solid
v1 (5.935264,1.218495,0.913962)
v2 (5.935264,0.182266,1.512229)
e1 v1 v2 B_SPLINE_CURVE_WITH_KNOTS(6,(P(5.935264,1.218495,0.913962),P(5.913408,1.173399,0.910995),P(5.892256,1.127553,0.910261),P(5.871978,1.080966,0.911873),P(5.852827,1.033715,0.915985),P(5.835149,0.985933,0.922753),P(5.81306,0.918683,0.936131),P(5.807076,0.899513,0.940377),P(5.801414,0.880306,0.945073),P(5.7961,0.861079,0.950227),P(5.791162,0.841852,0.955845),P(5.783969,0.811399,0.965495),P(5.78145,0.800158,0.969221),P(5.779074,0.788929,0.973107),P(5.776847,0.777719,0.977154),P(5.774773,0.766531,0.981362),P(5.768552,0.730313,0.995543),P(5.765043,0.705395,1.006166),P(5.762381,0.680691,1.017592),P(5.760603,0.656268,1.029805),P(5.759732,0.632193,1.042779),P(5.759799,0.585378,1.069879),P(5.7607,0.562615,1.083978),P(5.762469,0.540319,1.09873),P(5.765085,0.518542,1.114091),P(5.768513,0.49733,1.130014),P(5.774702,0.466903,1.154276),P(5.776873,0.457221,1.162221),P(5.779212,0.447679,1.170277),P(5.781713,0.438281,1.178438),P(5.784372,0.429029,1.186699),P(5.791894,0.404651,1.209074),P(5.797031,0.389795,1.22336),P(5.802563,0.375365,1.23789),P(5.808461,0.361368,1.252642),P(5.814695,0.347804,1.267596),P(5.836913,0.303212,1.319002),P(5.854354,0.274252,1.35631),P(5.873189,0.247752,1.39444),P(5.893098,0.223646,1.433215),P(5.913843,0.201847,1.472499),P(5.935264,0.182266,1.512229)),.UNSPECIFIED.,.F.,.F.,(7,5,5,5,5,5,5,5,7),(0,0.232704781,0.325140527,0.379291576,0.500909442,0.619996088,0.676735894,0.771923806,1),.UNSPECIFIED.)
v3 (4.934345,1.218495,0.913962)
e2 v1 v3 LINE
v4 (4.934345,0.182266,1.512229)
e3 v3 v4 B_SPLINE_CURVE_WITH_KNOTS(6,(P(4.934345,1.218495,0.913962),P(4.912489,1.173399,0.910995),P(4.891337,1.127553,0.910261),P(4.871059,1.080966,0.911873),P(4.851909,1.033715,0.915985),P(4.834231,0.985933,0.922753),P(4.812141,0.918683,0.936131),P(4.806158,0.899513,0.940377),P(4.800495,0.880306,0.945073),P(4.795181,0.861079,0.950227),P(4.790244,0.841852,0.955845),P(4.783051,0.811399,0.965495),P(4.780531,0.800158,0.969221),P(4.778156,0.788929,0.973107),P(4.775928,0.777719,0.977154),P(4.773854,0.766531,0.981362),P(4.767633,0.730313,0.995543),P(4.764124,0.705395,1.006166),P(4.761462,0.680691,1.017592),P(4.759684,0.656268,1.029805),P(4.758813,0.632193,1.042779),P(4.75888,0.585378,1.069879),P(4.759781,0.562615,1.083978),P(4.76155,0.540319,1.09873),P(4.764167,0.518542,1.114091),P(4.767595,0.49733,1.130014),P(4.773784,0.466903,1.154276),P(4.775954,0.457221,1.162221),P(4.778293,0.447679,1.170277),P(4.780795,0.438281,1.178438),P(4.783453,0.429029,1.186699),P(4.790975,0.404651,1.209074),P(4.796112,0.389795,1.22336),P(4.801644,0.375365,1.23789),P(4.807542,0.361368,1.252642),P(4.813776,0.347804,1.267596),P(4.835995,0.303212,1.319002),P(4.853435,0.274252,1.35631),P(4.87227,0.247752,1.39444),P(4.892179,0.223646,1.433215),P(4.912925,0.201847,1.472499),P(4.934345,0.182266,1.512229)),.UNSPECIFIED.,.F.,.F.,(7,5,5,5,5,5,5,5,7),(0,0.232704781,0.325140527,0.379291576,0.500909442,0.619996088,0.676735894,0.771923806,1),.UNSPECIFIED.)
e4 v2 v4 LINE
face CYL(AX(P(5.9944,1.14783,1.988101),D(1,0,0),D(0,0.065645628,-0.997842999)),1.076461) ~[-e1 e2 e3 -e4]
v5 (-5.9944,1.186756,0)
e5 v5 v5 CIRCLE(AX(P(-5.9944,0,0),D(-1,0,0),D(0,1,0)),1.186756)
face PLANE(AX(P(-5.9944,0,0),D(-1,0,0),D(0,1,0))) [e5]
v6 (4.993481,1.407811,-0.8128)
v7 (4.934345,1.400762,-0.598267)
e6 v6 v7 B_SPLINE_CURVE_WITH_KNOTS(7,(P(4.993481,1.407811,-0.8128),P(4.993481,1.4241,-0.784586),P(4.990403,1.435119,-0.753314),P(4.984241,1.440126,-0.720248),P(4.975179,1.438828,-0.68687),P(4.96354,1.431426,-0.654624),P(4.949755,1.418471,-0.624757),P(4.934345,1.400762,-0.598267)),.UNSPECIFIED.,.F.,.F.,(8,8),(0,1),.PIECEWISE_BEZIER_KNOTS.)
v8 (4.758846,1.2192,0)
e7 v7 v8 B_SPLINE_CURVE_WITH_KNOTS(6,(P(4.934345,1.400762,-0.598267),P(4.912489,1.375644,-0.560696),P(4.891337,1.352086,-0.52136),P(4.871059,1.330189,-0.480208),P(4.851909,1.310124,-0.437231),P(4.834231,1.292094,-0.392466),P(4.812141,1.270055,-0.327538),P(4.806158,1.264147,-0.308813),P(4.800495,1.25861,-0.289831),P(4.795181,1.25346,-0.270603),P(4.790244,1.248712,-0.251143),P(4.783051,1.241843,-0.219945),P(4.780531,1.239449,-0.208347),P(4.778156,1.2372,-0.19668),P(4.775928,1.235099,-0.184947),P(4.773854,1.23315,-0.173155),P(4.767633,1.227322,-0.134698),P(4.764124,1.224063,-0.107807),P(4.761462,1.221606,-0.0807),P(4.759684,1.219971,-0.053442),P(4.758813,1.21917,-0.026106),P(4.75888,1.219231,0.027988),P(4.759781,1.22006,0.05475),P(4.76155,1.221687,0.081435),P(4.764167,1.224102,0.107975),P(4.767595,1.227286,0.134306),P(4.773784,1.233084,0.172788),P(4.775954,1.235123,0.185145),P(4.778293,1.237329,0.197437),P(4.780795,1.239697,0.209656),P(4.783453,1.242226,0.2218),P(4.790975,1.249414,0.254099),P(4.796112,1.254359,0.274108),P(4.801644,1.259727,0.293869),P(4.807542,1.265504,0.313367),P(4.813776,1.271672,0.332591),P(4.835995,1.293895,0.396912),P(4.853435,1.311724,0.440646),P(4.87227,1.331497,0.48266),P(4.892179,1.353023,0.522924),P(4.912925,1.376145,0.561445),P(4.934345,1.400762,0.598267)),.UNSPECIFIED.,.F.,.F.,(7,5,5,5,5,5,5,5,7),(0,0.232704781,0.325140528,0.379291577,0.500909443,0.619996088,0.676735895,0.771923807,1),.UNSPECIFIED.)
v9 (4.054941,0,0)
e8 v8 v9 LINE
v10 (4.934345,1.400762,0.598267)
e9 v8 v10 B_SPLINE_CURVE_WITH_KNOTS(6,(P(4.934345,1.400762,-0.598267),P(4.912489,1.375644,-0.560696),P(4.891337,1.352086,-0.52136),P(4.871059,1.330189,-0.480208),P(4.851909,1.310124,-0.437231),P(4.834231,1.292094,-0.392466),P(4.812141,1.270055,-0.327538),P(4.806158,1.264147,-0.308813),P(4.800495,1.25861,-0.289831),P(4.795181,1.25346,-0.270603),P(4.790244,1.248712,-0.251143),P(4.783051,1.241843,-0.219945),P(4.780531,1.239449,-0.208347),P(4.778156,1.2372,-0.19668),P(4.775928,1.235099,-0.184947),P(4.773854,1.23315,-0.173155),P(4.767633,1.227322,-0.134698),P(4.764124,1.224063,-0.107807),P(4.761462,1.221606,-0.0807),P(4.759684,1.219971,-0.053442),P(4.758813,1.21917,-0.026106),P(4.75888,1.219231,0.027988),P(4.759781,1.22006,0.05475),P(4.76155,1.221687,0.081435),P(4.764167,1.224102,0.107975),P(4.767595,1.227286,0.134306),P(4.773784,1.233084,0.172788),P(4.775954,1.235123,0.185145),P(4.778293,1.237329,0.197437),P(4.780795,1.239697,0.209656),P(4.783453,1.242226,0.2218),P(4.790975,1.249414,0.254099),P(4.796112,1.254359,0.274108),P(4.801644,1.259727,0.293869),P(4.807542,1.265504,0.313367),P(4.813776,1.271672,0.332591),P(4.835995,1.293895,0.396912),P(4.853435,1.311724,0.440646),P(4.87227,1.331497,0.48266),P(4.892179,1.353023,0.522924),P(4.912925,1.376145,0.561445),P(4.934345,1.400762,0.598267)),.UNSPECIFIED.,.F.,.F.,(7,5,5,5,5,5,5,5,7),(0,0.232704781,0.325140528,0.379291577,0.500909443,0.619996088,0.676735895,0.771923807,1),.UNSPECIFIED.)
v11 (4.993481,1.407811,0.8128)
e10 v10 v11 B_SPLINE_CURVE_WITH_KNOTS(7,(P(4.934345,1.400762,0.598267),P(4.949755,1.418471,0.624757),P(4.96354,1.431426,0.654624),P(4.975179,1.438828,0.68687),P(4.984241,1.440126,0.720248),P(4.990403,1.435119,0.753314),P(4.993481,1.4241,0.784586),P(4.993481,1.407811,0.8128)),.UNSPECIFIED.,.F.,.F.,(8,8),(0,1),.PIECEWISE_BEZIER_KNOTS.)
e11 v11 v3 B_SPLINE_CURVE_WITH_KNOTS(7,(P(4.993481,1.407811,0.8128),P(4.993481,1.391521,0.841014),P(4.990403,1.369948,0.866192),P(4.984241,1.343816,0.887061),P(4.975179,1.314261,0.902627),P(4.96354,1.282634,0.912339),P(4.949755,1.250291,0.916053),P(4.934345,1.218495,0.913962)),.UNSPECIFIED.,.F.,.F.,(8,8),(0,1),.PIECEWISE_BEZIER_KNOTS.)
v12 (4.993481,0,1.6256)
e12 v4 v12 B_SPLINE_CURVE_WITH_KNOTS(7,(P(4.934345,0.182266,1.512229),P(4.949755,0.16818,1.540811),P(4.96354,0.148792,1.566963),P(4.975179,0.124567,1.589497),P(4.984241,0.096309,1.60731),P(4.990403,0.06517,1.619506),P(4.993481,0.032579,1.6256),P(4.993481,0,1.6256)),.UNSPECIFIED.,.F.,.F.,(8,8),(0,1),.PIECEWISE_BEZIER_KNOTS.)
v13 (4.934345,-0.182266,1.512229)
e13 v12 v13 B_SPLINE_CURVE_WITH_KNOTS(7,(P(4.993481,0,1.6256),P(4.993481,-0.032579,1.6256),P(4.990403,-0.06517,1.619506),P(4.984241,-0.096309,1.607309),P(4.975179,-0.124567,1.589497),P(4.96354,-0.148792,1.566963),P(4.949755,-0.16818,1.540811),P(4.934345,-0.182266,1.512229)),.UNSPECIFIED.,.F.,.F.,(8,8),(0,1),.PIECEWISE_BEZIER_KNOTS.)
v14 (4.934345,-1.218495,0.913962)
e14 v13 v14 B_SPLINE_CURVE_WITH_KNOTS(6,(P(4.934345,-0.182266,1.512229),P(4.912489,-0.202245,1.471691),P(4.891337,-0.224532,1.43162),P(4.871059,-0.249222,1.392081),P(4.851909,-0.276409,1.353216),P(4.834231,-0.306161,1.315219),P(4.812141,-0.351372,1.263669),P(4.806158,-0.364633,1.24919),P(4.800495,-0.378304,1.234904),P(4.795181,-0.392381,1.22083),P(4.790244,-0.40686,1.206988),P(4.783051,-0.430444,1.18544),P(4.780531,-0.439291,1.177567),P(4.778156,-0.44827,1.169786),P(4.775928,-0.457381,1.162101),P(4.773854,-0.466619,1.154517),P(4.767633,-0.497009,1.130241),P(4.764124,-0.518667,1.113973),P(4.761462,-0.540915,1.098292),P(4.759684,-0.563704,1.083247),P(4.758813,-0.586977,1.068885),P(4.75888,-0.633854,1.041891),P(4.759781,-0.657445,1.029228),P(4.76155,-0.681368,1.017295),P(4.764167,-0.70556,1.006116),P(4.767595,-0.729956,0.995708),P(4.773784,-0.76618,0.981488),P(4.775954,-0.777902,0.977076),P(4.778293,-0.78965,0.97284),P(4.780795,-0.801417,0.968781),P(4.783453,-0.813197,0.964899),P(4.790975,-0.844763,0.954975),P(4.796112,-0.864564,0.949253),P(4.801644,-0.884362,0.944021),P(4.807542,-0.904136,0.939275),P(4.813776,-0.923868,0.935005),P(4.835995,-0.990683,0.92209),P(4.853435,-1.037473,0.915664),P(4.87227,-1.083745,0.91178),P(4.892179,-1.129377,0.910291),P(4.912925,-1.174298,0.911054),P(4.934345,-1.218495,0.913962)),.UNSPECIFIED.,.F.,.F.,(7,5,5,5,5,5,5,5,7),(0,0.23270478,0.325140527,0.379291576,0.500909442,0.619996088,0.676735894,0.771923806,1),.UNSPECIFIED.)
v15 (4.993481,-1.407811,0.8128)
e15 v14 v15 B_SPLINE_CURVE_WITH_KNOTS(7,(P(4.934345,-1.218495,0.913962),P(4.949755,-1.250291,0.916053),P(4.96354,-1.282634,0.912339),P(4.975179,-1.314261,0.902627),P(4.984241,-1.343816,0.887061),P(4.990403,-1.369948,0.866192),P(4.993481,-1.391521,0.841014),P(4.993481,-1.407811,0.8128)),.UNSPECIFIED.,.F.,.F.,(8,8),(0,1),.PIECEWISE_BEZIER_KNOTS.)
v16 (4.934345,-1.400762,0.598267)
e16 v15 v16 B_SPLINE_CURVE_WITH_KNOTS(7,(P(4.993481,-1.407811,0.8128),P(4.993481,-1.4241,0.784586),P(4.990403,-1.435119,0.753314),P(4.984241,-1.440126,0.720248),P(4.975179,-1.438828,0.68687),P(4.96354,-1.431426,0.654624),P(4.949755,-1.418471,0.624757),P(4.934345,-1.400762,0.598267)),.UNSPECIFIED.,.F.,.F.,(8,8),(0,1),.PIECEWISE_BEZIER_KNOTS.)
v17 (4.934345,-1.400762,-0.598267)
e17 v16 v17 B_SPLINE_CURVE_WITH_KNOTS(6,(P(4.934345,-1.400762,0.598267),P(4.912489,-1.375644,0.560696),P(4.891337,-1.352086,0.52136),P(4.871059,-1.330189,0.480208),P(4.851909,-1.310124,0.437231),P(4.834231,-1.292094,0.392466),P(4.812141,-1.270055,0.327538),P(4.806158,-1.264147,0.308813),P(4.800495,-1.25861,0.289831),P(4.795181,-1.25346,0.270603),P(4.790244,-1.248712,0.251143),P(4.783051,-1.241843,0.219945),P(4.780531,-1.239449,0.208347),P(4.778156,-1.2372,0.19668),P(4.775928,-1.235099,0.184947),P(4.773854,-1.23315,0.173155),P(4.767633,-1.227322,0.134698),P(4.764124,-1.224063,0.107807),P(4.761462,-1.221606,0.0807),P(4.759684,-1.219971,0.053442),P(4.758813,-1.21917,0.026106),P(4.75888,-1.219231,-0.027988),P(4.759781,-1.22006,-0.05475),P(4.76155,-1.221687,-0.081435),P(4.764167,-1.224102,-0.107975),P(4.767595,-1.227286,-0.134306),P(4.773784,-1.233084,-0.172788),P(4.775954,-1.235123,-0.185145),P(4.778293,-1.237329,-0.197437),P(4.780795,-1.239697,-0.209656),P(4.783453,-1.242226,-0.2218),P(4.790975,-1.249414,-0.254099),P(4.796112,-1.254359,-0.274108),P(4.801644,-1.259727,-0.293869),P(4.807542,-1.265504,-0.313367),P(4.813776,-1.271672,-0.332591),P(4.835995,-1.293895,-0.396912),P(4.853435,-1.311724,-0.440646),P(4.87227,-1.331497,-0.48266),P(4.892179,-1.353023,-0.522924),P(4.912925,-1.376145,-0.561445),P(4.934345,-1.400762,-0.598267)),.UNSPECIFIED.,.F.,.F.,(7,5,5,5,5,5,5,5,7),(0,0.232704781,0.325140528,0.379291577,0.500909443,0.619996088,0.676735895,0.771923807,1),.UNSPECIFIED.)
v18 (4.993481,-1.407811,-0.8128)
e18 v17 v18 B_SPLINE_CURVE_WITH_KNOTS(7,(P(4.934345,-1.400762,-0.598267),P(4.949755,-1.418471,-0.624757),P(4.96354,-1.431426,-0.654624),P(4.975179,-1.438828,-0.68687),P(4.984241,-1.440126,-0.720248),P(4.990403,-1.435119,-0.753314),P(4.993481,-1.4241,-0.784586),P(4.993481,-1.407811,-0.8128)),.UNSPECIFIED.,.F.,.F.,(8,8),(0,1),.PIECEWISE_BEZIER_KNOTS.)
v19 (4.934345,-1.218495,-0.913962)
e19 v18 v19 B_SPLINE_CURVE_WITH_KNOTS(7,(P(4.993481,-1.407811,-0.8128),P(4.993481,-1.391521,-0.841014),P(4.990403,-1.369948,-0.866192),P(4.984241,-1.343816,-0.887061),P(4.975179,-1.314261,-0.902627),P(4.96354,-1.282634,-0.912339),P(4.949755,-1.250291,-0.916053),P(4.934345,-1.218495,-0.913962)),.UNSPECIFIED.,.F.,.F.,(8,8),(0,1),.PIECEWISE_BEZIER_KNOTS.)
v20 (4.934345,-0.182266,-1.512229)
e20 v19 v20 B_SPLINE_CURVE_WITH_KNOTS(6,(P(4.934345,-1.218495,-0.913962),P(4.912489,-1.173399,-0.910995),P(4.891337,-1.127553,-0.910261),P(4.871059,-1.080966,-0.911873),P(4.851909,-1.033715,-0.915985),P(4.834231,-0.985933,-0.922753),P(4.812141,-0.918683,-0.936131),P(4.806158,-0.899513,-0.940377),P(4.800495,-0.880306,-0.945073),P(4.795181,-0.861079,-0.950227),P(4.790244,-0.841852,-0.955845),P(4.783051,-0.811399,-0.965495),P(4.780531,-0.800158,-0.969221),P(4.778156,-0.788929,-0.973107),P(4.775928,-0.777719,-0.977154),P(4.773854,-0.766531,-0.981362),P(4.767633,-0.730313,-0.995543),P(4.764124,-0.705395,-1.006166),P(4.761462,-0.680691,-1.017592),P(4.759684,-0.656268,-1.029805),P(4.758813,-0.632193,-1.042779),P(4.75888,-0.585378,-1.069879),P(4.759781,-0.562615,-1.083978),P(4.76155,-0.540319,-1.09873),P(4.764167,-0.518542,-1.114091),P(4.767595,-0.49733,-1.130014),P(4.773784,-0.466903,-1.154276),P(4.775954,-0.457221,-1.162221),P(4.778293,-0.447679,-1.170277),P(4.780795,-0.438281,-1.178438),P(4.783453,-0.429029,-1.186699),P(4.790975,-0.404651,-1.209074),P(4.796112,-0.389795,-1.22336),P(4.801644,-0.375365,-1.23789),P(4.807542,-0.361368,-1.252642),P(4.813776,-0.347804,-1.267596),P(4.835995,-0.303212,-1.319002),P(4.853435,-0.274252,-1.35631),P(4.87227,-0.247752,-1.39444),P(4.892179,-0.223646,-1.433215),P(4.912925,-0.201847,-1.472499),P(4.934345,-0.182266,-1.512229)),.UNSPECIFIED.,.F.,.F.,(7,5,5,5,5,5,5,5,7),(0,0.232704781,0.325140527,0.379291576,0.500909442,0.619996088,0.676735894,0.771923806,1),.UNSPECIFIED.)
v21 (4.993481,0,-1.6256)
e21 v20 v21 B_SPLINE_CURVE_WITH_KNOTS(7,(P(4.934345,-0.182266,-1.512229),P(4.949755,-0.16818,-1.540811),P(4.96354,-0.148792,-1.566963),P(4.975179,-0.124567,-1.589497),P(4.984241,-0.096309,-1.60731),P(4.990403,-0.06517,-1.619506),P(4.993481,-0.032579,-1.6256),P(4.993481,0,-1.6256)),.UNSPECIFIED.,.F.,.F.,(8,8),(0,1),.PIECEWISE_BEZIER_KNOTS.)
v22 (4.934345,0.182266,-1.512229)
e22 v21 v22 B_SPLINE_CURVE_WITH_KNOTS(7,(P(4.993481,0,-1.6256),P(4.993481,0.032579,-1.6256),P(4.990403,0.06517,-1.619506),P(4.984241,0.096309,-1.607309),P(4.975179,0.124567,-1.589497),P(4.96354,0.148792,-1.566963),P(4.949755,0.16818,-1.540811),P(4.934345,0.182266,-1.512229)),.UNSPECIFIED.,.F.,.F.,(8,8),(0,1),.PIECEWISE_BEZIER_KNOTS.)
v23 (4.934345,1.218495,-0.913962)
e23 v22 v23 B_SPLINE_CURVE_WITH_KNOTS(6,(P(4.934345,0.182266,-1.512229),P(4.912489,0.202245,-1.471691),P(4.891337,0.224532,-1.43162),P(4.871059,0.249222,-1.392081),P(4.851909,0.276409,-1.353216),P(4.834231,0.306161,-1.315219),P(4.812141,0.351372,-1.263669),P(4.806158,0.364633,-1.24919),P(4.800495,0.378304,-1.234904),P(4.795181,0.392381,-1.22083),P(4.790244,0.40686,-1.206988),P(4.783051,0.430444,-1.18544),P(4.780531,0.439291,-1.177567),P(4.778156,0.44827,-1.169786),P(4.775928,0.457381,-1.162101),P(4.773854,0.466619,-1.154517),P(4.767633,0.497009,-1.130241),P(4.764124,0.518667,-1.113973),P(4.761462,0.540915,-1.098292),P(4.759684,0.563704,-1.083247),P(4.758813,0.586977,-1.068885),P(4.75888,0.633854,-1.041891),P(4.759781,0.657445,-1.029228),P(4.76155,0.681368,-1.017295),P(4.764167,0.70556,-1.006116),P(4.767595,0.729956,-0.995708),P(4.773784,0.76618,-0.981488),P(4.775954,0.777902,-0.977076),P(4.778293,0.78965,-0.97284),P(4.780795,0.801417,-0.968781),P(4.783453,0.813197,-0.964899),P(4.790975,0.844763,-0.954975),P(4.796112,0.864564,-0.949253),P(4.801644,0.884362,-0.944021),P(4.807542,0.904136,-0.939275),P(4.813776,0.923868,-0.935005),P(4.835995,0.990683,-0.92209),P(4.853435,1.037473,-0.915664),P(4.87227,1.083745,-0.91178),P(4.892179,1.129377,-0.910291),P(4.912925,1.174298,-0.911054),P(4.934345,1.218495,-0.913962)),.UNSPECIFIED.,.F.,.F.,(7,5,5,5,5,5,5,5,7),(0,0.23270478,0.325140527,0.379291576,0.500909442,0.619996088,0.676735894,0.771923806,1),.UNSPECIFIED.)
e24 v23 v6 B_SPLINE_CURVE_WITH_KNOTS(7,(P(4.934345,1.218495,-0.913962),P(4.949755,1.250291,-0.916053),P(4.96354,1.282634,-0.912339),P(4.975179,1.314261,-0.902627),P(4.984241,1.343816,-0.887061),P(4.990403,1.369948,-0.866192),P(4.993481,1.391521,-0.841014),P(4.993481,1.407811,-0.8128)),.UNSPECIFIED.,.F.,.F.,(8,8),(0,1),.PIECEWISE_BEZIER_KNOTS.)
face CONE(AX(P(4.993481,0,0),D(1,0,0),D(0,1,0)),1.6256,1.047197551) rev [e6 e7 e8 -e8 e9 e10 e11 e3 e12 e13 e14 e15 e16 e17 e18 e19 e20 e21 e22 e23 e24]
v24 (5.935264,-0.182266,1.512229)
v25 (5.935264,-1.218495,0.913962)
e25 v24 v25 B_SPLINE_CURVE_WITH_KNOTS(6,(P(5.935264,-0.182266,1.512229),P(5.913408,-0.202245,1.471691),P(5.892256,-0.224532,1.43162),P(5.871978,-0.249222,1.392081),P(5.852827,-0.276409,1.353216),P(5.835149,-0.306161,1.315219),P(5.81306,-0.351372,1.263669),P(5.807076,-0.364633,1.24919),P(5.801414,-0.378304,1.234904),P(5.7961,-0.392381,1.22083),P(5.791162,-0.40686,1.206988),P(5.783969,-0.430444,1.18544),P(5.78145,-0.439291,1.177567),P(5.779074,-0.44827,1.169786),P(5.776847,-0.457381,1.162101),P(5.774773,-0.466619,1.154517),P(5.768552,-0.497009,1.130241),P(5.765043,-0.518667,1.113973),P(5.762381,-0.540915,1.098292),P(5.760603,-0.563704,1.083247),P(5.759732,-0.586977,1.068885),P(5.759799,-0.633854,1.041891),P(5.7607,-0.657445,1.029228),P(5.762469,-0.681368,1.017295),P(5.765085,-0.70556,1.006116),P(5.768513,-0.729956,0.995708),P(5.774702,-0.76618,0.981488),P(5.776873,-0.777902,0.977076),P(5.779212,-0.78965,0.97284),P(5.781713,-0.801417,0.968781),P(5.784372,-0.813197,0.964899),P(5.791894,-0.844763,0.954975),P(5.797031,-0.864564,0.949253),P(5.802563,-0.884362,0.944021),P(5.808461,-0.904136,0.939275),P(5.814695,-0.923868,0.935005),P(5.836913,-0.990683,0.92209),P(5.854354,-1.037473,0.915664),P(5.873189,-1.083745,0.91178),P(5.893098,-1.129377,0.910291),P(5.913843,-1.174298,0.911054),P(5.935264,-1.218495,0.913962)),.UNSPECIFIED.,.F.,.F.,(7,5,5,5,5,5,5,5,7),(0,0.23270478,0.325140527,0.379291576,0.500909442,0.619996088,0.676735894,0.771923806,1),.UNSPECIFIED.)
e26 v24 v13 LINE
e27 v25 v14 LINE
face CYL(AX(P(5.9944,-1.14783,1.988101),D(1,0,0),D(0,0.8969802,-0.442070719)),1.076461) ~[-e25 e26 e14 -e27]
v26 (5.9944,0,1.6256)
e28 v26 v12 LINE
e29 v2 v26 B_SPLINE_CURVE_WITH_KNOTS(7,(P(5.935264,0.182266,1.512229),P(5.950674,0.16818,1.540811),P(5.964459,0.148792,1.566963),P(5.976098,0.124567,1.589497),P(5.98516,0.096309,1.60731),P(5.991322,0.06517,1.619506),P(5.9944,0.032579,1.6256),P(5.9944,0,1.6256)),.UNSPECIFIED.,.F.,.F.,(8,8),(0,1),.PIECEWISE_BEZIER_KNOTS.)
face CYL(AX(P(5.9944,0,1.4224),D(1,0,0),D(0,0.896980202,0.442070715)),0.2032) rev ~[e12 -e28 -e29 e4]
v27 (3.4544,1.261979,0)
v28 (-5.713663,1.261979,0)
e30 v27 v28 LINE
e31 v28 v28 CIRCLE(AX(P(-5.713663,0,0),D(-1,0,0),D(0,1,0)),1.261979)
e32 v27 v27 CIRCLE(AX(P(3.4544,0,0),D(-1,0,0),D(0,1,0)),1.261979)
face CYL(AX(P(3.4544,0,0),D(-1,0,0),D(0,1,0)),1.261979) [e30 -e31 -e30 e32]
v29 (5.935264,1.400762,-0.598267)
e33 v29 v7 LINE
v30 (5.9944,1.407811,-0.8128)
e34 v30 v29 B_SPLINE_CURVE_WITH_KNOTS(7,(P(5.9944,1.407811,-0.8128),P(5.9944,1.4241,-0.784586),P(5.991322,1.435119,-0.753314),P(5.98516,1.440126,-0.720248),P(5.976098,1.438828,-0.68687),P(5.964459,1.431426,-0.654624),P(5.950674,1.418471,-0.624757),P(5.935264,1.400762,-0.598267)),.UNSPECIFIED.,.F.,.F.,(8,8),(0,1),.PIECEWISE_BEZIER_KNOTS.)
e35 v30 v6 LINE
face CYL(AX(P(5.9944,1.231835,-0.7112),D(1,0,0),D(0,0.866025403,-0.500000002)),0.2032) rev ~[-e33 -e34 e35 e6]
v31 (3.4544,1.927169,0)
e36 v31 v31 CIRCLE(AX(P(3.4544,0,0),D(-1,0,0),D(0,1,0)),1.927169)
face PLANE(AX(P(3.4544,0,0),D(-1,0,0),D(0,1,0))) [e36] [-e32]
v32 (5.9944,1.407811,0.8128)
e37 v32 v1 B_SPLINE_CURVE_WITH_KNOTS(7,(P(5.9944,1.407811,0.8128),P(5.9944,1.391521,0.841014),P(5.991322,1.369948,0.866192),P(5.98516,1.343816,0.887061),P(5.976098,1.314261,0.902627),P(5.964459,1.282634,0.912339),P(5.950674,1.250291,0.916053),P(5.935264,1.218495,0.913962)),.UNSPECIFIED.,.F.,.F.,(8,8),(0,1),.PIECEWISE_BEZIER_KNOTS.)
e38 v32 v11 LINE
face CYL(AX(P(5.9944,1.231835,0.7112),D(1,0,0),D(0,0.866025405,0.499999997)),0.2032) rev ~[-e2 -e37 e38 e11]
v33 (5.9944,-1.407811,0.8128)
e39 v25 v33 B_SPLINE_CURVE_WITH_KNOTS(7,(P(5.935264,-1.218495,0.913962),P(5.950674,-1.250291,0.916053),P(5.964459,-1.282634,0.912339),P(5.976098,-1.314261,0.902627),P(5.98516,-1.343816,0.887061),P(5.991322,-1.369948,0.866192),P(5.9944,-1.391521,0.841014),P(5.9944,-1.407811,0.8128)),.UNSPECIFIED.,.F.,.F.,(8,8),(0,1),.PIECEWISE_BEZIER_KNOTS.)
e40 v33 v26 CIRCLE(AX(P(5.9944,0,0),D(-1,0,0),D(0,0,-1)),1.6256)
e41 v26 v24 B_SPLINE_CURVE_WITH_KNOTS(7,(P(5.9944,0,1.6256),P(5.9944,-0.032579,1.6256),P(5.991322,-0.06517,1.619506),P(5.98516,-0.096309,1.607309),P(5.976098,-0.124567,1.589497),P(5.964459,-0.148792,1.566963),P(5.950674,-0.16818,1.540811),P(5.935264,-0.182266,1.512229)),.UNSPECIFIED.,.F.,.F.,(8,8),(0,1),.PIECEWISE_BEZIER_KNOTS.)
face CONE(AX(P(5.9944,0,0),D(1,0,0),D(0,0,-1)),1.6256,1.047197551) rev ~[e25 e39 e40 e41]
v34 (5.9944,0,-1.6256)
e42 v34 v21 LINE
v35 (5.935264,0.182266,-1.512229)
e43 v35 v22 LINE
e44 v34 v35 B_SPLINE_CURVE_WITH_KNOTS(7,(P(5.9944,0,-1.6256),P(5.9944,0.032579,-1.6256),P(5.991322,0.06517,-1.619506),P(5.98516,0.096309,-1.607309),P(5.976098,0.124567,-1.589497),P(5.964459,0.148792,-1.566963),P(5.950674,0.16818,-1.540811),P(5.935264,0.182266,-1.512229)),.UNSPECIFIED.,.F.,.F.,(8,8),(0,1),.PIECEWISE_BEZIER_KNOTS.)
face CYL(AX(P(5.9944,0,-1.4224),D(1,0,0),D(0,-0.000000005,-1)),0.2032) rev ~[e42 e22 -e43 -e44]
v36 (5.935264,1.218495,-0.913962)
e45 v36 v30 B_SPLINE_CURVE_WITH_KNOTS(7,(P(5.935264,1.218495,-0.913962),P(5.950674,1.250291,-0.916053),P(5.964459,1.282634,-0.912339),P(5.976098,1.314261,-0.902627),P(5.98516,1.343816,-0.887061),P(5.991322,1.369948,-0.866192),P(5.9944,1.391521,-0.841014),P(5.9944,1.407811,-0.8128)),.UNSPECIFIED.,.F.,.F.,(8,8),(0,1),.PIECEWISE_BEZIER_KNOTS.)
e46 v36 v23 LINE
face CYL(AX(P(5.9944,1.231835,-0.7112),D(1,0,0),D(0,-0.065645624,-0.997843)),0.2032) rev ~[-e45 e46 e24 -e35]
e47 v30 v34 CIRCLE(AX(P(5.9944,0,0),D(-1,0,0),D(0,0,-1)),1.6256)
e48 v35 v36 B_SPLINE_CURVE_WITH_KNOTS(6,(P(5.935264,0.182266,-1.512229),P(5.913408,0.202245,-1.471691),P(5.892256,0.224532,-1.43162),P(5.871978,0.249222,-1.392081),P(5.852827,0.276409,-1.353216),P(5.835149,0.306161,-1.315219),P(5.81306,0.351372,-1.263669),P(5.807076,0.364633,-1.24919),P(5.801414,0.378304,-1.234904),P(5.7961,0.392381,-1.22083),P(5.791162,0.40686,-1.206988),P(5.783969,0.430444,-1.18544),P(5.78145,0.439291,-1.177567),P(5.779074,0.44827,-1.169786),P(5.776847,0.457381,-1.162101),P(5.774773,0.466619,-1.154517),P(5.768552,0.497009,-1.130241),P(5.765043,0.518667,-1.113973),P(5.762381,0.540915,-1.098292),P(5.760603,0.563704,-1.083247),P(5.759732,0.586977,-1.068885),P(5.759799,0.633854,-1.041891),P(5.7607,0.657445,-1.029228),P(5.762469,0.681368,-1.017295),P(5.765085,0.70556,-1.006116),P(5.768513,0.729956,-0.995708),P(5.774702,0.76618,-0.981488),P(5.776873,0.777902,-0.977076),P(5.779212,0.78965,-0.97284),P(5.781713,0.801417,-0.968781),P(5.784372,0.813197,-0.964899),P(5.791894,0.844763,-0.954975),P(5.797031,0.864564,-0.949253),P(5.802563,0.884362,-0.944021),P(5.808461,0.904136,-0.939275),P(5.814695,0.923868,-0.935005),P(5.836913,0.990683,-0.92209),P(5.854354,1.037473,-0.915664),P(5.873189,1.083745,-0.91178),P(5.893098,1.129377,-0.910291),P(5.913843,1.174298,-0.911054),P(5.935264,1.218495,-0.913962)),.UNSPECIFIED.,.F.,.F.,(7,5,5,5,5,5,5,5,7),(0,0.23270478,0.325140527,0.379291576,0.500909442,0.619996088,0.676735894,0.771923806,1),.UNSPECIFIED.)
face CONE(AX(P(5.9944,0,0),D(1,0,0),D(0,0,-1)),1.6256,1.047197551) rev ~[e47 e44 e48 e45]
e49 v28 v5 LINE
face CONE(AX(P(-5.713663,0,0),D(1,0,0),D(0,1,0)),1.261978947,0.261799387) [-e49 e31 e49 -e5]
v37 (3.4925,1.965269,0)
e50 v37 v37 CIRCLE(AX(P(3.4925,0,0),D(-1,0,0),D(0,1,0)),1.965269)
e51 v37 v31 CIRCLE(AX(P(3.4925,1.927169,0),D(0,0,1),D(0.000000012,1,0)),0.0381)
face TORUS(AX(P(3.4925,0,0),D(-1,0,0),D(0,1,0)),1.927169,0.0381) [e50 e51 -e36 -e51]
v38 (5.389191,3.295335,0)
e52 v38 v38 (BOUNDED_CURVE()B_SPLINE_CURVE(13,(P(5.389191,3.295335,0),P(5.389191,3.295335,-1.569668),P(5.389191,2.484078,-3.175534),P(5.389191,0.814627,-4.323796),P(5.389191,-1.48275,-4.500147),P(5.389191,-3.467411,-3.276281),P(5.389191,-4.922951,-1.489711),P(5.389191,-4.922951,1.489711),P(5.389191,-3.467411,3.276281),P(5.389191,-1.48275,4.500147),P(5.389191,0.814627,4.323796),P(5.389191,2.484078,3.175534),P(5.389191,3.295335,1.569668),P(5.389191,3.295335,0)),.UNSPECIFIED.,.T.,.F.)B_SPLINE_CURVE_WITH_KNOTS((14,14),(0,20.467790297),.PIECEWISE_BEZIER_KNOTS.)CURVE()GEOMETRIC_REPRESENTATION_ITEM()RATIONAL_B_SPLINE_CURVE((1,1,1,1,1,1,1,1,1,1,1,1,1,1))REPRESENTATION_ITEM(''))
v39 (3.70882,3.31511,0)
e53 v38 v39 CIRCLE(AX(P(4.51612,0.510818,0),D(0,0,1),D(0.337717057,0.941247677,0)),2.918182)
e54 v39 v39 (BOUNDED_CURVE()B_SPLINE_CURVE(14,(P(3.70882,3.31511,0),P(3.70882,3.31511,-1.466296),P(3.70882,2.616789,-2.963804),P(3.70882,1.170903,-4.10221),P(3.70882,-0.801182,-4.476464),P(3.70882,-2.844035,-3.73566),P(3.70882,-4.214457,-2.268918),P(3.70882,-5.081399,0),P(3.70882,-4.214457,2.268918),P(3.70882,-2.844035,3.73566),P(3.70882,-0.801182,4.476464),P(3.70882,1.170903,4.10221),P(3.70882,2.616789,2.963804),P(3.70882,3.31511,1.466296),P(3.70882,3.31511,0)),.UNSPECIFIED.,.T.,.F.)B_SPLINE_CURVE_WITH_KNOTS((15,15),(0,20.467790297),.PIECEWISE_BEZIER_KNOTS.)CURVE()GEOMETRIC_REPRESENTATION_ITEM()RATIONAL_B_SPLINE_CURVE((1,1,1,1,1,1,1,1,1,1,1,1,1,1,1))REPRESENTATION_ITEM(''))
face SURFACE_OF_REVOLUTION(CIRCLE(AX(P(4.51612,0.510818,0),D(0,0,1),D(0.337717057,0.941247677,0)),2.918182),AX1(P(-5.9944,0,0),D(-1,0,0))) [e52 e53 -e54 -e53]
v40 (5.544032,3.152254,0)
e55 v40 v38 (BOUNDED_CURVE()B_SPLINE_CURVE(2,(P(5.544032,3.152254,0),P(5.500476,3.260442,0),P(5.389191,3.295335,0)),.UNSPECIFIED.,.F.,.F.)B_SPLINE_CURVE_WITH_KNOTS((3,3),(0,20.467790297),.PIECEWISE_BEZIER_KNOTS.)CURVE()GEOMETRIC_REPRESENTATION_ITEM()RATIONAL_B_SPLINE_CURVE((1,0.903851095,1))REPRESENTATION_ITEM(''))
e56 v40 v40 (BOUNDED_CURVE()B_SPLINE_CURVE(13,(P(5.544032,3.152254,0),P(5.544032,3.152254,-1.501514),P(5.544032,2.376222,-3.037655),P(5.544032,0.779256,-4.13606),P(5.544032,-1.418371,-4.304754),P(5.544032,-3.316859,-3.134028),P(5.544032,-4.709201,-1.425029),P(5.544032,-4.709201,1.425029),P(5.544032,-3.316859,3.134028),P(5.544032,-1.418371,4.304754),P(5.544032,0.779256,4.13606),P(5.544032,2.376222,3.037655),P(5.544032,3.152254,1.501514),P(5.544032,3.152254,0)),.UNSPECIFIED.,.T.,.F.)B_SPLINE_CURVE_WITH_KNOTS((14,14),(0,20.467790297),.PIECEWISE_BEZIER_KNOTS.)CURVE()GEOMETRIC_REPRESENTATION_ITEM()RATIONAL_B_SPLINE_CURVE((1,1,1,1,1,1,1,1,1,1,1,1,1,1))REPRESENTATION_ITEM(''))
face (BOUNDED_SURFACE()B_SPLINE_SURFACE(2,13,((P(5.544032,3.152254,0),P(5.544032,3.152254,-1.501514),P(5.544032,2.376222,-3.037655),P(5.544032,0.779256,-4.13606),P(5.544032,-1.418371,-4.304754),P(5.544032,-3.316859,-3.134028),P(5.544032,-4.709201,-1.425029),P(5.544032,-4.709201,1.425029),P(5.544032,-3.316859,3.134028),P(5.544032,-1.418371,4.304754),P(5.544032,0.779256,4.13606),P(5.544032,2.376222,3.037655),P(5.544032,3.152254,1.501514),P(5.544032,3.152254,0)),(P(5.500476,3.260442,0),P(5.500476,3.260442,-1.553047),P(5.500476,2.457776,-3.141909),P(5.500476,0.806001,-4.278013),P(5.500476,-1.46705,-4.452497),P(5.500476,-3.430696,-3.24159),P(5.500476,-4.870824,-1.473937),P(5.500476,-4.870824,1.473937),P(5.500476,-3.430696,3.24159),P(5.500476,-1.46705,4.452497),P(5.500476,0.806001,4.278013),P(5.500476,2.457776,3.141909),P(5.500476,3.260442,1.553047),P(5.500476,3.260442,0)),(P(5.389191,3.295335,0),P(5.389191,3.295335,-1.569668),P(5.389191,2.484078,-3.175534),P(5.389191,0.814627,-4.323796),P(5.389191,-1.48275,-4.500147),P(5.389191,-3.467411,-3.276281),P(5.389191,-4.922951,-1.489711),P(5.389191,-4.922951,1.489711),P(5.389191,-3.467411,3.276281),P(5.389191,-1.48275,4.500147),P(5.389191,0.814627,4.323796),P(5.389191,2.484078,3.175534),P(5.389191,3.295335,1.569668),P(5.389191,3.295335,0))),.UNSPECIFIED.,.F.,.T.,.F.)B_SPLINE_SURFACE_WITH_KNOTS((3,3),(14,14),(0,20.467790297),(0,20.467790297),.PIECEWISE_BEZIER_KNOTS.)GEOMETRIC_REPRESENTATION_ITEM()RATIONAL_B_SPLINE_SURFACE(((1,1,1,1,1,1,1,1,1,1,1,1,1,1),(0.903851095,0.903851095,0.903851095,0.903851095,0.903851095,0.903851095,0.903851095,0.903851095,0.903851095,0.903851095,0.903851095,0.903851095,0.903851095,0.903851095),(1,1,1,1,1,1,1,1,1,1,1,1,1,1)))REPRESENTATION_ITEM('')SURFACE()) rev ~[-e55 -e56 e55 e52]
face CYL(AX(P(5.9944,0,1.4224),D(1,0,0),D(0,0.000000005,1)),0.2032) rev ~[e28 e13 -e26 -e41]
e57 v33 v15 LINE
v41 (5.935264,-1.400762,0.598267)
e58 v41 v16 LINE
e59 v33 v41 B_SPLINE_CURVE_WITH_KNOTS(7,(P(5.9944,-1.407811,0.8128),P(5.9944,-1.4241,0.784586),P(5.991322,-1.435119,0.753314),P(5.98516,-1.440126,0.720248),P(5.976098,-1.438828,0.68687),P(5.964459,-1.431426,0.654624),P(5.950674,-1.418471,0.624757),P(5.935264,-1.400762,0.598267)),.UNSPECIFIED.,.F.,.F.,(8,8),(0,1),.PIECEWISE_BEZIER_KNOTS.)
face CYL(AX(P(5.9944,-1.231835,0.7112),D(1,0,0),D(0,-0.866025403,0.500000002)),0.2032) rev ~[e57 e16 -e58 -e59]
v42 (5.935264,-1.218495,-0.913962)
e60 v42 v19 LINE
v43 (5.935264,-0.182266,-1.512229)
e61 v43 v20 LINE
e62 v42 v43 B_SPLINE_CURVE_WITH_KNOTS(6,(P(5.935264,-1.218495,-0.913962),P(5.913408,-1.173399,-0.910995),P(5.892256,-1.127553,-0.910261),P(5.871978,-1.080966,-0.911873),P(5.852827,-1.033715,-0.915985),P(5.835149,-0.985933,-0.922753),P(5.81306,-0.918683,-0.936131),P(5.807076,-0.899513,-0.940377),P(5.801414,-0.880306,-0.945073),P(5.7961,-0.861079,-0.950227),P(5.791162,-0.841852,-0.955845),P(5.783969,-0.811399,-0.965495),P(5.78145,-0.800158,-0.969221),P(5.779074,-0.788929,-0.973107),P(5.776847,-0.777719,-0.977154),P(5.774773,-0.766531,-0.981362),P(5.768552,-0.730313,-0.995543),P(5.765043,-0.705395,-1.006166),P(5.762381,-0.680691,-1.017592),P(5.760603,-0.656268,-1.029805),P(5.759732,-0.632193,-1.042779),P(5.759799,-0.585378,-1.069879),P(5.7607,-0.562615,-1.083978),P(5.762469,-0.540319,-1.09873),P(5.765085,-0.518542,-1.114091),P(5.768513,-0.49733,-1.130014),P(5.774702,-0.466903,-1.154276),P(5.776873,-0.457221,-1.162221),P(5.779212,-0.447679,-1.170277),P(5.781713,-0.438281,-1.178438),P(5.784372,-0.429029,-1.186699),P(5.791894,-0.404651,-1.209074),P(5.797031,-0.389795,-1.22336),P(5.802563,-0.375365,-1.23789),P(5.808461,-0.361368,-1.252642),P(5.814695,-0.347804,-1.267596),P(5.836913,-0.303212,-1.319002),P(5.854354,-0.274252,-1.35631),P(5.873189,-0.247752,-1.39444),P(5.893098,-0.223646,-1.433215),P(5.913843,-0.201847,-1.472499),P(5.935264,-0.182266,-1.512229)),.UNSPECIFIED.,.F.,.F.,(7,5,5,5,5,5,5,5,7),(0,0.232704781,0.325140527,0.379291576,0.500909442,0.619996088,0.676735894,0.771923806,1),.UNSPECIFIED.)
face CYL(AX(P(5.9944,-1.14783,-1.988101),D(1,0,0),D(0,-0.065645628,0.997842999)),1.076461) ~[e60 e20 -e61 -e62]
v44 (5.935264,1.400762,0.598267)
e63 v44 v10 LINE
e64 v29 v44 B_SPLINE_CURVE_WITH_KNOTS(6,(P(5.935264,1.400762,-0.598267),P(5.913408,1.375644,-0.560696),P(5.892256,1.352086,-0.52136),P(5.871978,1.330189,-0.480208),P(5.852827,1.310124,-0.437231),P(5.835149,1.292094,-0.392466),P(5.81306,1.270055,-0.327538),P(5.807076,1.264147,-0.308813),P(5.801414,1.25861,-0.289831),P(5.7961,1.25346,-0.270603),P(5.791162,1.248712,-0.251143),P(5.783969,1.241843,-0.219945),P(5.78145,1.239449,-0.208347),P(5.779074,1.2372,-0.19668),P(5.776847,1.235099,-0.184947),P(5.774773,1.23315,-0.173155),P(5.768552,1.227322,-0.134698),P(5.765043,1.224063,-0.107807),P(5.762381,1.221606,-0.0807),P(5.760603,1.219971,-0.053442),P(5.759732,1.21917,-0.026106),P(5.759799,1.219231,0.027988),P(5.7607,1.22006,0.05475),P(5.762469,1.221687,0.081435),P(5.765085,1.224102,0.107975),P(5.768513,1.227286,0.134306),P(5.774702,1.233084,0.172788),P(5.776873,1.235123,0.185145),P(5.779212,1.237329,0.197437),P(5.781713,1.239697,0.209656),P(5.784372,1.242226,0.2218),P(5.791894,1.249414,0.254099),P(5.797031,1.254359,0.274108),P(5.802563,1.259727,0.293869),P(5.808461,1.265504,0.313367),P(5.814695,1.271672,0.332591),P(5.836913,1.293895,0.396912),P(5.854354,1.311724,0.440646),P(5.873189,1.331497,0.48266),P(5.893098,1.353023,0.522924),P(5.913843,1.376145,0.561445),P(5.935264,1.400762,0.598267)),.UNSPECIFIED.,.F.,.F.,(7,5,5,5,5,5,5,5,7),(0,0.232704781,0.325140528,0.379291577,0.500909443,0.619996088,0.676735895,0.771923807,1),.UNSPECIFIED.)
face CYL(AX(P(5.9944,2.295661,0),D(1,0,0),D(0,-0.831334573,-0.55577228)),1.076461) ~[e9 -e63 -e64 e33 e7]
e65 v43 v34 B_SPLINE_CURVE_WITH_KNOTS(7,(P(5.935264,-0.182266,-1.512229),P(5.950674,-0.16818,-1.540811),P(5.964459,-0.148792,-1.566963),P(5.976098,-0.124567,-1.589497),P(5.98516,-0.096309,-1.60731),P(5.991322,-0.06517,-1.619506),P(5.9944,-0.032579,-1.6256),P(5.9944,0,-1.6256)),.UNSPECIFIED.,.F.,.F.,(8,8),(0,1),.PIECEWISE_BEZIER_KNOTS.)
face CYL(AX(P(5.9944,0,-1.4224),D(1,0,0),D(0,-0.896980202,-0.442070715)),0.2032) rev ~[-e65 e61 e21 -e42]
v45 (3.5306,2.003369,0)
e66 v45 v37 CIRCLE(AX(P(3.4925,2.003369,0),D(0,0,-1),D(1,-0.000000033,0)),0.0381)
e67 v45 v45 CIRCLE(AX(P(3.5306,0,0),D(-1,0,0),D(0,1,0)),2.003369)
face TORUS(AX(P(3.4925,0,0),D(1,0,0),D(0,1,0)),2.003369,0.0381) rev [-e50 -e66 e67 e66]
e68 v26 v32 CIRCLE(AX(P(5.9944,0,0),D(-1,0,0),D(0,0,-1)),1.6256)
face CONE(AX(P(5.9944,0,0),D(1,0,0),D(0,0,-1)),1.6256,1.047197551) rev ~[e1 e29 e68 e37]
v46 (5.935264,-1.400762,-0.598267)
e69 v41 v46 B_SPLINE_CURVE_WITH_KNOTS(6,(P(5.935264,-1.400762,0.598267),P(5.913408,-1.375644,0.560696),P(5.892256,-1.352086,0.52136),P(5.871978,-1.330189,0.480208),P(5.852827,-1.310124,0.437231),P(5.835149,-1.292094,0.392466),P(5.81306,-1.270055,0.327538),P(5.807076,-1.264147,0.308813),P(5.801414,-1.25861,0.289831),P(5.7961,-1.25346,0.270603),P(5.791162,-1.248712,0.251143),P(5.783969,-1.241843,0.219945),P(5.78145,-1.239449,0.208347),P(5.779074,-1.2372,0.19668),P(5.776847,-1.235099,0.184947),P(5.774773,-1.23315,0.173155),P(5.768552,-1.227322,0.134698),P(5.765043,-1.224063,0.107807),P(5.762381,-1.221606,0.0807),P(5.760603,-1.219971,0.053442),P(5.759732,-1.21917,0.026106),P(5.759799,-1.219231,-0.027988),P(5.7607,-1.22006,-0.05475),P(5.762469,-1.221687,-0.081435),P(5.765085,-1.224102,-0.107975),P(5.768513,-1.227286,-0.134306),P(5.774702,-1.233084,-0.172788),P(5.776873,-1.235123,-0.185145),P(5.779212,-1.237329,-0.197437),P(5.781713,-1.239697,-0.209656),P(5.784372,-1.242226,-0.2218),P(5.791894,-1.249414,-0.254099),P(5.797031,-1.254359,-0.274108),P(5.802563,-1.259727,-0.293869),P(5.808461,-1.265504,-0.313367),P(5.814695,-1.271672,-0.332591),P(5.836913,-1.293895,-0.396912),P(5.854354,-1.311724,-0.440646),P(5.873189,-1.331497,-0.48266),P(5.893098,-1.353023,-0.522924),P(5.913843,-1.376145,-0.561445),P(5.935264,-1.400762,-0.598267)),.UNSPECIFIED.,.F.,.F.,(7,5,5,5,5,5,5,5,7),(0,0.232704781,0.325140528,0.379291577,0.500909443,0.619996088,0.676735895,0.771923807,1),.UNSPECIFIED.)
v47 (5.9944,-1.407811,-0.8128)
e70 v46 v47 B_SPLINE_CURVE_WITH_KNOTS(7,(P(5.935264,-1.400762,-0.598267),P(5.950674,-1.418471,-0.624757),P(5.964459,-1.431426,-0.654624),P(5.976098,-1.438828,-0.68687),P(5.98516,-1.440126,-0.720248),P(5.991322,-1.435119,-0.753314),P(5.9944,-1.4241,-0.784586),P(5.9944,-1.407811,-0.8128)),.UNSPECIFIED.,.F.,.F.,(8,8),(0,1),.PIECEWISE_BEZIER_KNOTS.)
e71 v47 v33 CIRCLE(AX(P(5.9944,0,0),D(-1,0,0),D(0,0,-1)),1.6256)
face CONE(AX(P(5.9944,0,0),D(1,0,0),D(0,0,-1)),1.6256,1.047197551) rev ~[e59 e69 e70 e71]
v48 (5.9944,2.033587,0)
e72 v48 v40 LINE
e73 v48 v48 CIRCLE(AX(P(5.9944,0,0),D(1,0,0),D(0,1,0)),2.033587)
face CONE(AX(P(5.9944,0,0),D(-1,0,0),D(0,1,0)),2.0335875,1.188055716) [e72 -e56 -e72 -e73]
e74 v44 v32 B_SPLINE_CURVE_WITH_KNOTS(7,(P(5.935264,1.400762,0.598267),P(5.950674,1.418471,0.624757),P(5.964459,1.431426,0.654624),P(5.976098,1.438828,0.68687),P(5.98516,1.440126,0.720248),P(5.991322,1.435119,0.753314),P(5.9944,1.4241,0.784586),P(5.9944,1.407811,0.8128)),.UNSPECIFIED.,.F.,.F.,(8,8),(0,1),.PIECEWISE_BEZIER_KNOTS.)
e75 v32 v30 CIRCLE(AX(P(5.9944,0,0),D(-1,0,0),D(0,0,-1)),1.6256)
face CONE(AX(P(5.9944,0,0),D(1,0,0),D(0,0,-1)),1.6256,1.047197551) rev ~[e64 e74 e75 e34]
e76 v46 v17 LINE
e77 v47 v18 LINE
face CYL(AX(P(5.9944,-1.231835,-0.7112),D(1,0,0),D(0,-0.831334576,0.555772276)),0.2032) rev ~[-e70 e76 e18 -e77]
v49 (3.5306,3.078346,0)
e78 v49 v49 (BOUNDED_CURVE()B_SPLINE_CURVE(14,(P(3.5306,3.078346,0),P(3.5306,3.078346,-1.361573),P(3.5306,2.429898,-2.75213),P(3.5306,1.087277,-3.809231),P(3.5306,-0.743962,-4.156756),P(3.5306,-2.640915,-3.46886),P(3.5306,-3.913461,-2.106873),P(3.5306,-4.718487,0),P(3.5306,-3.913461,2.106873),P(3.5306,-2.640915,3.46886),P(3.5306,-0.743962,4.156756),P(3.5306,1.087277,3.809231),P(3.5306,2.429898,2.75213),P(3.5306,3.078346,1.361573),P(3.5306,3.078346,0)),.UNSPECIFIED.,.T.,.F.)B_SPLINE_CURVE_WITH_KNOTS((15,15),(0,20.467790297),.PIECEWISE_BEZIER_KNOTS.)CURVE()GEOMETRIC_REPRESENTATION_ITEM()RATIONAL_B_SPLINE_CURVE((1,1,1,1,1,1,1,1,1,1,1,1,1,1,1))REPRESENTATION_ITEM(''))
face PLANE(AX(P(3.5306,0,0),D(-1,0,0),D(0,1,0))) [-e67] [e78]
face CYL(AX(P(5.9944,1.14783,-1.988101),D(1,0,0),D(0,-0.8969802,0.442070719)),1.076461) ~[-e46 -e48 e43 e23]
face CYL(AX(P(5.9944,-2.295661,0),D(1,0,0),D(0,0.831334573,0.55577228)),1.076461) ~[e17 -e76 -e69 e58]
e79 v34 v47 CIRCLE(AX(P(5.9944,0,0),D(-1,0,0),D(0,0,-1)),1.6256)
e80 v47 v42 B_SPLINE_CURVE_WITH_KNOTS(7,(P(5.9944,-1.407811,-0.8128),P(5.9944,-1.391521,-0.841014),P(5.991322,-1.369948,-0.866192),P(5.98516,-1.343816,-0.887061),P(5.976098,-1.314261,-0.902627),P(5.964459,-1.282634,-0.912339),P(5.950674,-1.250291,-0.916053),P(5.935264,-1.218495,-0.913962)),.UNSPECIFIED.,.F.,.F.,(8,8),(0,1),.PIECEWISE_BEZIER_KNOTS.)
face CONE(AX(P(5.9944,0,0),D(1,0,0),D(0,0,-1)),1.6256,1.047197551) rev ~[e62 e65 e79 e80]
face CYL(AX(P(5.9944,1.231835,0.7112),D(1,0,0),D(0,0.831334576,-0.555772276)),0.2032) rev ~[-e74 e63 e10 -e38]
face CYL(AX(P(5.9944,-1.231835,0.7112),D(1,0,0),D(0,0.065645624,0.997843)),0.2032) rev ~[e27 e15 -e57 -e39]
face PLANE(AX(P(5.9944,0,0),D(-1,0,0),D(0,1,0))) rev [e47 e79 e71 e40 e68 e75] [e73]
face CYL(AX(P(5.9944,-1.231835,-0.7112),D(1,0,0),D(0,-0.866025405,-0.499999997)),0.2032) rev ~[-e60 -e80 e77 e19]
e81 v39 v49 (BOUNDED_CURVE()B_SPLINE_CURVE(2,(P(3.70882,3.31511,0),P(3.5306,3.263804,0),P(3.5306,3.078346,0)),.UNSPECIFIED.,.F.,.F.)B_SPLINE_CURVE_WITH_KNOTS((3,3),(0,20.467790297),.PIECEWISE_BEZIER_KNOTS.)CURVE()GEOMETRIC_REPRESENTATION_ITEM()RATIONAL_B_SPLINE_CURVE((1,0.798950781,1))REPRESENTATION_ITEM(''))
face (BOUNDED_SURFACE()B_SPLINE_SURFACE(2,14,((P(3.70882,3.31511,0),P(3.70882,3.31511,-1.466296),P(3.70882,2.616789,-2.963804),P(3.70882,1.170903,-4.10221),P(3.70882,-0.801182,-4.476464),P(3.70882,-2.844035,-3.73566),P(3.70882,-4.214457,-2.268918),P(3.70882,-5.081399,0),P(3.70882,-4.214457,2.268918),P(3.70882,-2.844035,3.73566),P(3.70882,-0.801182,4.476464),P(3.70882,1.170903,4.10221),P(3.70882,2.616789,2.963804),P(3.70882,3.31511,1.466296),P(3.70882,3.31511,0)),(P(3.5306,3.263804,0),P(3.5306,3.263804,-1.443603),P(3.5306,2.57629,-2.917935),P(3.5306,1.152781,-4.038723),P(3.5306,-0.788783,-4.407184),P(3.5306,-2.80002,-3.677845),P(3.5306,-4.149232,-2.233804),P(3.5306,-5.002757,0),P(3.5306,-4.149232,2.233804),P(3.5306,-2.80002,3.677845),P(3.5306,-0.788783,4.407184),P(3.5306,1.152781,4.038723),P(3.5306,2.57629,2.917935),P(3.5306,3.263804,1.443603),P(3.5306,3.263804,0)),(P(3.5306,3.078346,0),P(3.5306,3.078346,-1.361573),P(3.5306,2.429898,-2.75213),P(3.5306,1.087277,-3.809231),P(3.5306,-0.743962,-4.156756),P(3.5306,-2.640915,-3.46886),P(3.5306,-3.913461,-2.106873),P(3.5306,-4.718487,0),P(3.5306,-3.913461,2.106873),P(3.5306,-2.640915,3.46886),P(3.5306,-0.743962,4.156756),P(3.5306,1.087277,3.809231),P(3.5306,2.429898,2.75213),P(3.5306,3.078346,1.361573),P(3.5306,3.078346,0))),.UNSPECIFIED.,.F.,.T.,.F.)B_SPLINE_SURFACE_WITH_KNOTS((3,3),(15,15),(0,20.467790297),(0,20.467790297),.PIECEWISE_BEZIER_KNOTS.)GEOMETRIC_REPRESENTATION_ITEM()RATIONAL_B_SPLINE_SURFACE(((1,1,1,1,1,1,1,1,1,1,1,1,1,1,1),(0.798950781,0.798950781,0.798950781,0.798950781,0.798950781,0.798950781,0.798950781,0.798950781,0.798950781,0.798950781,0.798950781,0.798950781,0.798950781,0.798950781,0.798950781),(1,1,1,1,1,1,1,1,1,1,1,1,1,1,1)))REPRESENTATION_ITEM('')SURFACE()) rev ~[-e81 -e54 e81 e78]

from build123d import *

# Parameters (mm, degrees)
BOSS_EXTRUDE1_REACH = 14.932
SKETCH3_R           = 2.0335875
FILLET1_R           = 0.24638
CHAMFER1_SIZE       = 0.280736842
CHAMFER1_SIZE2      = 0.07522321


with BuildPart() as part:
    # Sketch2 → Revolve1 (revolve)
    with BuildSketch(Plane.XY):
        with BuildLine():
            Line((-5.9944, 0), (5.9944, 0))
            Line((5.9944, 0), (5.9944, 2.0335875))
            Line((5.9944, 2.0335875), (5.50164, 3.25755))
            ThreePointArc((5.50164, 3.25755), (4.51612, 3.429), (3.5306, 3.25755))
            Line((3.5306, 3.25755), (3.5306, 2.003369298))
            ThreePointArc((3.5306, 2.003369298), (3.519440768, 1.97642853), (3.4925, 1.965269298))
            ThreePointArc((3.4925, 1.965269298), (3.465559232, 1.954110067), (3.4544, 1.927169298))
            Line((3.4544, 1.927169298), (3.4544, 1.261978947))
            Line((3.4544, 1.261978947), (-5.9944, 1.261978947))
            Line((-5.9944, 1.261978947), (-5.9944, 0))
        make_face()
    revolve(axis=Axis((-5.9944, 0, 0), (-1, 0, 0)))

    # Sketch12 → Cut-Revolve3 (revolve, cut)
    with BuildSketch(Plane.XY):
        Polygon((5.9944, 1.6256), (4.99348125, 1.6256), (4.054940652, 0), (5.9944, 0), align=None)
    revolve(axis=Axis((-5.9944, 0, 0), (1, 0, 0)), mode=Mode.SUBTRACT)

    # Boss-Extrude1: up to this cone (the profile starts inside it)
    boss_extrude1_end = Plane(origin=(5.9944, 0, 0), z_dir=(1, 0, 0)).offset(-1.939458348) * Cone(1.732e-06, 35.906628234, 20.730700477, align=(Align.CENTER, Align.CENTER, Align.MIN), mode=Mode.PRIVATE)
    # Sketch3 → Boss-Extrude1 (add, up to the surface)
    with BuildSketch(Plane(origin=(5.9944, 0, 0), x_dir=(0, 0, -1), z_dir=(1, 0, 0)), mode=Mode.PRIVATE) as boss_extrude1_sk1:
        Circle(SKETCH3_R)
        with BuildLine():
            ThreePointArc((1.51222877, -0.182266377), (1.594944844, -0.107324354), (1.6256, 0))
            ThreePointArc((1.6256, 0), (1.594944844, 0.107324354), (1.51222877, 0.182266377))
            ThreePointArc((1.51222877, 0.182266377), (1.055858172, 0.6096), (0.913961698, 1.218495343))
            ThreePointArc((0.913961698, 1.218495343), (0.890418039, 1.327600575), (0.8128, 1.407810896))
            ThreePointArc((0.8128, 1.407810896), (0.704526805, 1.434924929), (0.598267073, 1.40076172))
            ThreePointArc((0.598267073, 1.40076172), (0, 1.2192), (-0.598267073, 1.40076172))
            ThreePointArc((-0.598267073, 1.40076172), (-0.704526805, 1.434924929), (-0.8128, 1.407810896))
            ThreePointArc((-0.8128, 1.407810896), (-0.890418039, 1.327600575), (-0.913961698, 1.218495343))
            ThreePointArc((-0.913961698, 1.218495343), (-1.055858172, 0.6096), (-1.51222877, 0.182266377))
            ThreePointArc((-1.51222877, 0.182266377), (-1.594944844, 0.107324354), (-1.6256, 0))
            ThreePointArc((-1.6256, 0), (-1.594944844, -0.107324354), (-1.51222877, -0.182266377))
            ThreePointArc((-1.51222877, -0.182266377), (-1.055858172, -0.6096), (-0.913961698, -1.218495343))
            ThreePointArc((-0.913961698, -1.218495343), (-0.890418039, -1.327600575), (-0.8128, -1.407810896))
            ThreePointArc((-0.8128, -1.407810896), (-0.704526805, -1.434924929), (-0.598267073, -1.40076172))
            ThreePointArc((-0.598267073, -1.40076172), (0, -1.2192), (0.598267073, -1.40076172))
            ThreePointArc((0.598267073, -1.40076172), (0.704526805, -1.434924929), (0.8128, -1.407810896))
            ThreePointArc((0.8128, -1.407810896), (0.890418039, -1.327600575), (0.913961698, -1.218495343))
            ThreePointArc((0.913961698, -1.218495343), (1.055858172, -0.6096), (1.51222877, -0.182266377))
        make_face(mode=Mode.SUBTRACT)
    boss_extrude1_tool1 = extrude(boss_extrude1_sk1.sketch, amount=-BOSS_EXTRUDE1_REACH, mode=Mode.PRIVATE) & boss_extrude1_end
    add(boss_extrude1_tool1.solids().sort_by_distance((5.9944, 0, 1.976069))[0])

    # Cut-Extrude2 cone 1 section (through the dimple's axis) → Cut-Extrude2 (revolve, cut)
    with BuildSketch(Plane(origin=(5.9944, 0, 0), x_dir=(0, 0, -1), z_dir=(0, 1, 0))):
        Polygon((0, 0), (1.6256, 0), (0, 0.938540598), align=None)
    revolve(axis=Axis((5.9944, 0, 0), (-1, 0, 0)), mode=Mode.SUBTRACT)

    # Fillet1
    fillet1_edges = [part.edges().sort_by_distance(p)[0] for p in [
        (3.5306, -3.25755, 0),
        (5.50164, -3.25755, 0),
    ]]
    fillet(fillet1_edges, radius=FILLET1_R)

    # Chamfer1
    chamfer1_edges = [part.edges().sort_by_distance(p)[0] for p in [
        (-5.9944, -1.261978947, 0),
    ]]
    chamfer1_side = [part.faces().sort_by_distance(p)[0] for p in [
        (-1.27, -1.261978947, 0),
    ]]
    chamfer(chamfer1_edges, length=CHAMFER1_SIZE, length2=CHAMFER1_SIZE2, reference=chamfer1_side[0])


solid = part.part
